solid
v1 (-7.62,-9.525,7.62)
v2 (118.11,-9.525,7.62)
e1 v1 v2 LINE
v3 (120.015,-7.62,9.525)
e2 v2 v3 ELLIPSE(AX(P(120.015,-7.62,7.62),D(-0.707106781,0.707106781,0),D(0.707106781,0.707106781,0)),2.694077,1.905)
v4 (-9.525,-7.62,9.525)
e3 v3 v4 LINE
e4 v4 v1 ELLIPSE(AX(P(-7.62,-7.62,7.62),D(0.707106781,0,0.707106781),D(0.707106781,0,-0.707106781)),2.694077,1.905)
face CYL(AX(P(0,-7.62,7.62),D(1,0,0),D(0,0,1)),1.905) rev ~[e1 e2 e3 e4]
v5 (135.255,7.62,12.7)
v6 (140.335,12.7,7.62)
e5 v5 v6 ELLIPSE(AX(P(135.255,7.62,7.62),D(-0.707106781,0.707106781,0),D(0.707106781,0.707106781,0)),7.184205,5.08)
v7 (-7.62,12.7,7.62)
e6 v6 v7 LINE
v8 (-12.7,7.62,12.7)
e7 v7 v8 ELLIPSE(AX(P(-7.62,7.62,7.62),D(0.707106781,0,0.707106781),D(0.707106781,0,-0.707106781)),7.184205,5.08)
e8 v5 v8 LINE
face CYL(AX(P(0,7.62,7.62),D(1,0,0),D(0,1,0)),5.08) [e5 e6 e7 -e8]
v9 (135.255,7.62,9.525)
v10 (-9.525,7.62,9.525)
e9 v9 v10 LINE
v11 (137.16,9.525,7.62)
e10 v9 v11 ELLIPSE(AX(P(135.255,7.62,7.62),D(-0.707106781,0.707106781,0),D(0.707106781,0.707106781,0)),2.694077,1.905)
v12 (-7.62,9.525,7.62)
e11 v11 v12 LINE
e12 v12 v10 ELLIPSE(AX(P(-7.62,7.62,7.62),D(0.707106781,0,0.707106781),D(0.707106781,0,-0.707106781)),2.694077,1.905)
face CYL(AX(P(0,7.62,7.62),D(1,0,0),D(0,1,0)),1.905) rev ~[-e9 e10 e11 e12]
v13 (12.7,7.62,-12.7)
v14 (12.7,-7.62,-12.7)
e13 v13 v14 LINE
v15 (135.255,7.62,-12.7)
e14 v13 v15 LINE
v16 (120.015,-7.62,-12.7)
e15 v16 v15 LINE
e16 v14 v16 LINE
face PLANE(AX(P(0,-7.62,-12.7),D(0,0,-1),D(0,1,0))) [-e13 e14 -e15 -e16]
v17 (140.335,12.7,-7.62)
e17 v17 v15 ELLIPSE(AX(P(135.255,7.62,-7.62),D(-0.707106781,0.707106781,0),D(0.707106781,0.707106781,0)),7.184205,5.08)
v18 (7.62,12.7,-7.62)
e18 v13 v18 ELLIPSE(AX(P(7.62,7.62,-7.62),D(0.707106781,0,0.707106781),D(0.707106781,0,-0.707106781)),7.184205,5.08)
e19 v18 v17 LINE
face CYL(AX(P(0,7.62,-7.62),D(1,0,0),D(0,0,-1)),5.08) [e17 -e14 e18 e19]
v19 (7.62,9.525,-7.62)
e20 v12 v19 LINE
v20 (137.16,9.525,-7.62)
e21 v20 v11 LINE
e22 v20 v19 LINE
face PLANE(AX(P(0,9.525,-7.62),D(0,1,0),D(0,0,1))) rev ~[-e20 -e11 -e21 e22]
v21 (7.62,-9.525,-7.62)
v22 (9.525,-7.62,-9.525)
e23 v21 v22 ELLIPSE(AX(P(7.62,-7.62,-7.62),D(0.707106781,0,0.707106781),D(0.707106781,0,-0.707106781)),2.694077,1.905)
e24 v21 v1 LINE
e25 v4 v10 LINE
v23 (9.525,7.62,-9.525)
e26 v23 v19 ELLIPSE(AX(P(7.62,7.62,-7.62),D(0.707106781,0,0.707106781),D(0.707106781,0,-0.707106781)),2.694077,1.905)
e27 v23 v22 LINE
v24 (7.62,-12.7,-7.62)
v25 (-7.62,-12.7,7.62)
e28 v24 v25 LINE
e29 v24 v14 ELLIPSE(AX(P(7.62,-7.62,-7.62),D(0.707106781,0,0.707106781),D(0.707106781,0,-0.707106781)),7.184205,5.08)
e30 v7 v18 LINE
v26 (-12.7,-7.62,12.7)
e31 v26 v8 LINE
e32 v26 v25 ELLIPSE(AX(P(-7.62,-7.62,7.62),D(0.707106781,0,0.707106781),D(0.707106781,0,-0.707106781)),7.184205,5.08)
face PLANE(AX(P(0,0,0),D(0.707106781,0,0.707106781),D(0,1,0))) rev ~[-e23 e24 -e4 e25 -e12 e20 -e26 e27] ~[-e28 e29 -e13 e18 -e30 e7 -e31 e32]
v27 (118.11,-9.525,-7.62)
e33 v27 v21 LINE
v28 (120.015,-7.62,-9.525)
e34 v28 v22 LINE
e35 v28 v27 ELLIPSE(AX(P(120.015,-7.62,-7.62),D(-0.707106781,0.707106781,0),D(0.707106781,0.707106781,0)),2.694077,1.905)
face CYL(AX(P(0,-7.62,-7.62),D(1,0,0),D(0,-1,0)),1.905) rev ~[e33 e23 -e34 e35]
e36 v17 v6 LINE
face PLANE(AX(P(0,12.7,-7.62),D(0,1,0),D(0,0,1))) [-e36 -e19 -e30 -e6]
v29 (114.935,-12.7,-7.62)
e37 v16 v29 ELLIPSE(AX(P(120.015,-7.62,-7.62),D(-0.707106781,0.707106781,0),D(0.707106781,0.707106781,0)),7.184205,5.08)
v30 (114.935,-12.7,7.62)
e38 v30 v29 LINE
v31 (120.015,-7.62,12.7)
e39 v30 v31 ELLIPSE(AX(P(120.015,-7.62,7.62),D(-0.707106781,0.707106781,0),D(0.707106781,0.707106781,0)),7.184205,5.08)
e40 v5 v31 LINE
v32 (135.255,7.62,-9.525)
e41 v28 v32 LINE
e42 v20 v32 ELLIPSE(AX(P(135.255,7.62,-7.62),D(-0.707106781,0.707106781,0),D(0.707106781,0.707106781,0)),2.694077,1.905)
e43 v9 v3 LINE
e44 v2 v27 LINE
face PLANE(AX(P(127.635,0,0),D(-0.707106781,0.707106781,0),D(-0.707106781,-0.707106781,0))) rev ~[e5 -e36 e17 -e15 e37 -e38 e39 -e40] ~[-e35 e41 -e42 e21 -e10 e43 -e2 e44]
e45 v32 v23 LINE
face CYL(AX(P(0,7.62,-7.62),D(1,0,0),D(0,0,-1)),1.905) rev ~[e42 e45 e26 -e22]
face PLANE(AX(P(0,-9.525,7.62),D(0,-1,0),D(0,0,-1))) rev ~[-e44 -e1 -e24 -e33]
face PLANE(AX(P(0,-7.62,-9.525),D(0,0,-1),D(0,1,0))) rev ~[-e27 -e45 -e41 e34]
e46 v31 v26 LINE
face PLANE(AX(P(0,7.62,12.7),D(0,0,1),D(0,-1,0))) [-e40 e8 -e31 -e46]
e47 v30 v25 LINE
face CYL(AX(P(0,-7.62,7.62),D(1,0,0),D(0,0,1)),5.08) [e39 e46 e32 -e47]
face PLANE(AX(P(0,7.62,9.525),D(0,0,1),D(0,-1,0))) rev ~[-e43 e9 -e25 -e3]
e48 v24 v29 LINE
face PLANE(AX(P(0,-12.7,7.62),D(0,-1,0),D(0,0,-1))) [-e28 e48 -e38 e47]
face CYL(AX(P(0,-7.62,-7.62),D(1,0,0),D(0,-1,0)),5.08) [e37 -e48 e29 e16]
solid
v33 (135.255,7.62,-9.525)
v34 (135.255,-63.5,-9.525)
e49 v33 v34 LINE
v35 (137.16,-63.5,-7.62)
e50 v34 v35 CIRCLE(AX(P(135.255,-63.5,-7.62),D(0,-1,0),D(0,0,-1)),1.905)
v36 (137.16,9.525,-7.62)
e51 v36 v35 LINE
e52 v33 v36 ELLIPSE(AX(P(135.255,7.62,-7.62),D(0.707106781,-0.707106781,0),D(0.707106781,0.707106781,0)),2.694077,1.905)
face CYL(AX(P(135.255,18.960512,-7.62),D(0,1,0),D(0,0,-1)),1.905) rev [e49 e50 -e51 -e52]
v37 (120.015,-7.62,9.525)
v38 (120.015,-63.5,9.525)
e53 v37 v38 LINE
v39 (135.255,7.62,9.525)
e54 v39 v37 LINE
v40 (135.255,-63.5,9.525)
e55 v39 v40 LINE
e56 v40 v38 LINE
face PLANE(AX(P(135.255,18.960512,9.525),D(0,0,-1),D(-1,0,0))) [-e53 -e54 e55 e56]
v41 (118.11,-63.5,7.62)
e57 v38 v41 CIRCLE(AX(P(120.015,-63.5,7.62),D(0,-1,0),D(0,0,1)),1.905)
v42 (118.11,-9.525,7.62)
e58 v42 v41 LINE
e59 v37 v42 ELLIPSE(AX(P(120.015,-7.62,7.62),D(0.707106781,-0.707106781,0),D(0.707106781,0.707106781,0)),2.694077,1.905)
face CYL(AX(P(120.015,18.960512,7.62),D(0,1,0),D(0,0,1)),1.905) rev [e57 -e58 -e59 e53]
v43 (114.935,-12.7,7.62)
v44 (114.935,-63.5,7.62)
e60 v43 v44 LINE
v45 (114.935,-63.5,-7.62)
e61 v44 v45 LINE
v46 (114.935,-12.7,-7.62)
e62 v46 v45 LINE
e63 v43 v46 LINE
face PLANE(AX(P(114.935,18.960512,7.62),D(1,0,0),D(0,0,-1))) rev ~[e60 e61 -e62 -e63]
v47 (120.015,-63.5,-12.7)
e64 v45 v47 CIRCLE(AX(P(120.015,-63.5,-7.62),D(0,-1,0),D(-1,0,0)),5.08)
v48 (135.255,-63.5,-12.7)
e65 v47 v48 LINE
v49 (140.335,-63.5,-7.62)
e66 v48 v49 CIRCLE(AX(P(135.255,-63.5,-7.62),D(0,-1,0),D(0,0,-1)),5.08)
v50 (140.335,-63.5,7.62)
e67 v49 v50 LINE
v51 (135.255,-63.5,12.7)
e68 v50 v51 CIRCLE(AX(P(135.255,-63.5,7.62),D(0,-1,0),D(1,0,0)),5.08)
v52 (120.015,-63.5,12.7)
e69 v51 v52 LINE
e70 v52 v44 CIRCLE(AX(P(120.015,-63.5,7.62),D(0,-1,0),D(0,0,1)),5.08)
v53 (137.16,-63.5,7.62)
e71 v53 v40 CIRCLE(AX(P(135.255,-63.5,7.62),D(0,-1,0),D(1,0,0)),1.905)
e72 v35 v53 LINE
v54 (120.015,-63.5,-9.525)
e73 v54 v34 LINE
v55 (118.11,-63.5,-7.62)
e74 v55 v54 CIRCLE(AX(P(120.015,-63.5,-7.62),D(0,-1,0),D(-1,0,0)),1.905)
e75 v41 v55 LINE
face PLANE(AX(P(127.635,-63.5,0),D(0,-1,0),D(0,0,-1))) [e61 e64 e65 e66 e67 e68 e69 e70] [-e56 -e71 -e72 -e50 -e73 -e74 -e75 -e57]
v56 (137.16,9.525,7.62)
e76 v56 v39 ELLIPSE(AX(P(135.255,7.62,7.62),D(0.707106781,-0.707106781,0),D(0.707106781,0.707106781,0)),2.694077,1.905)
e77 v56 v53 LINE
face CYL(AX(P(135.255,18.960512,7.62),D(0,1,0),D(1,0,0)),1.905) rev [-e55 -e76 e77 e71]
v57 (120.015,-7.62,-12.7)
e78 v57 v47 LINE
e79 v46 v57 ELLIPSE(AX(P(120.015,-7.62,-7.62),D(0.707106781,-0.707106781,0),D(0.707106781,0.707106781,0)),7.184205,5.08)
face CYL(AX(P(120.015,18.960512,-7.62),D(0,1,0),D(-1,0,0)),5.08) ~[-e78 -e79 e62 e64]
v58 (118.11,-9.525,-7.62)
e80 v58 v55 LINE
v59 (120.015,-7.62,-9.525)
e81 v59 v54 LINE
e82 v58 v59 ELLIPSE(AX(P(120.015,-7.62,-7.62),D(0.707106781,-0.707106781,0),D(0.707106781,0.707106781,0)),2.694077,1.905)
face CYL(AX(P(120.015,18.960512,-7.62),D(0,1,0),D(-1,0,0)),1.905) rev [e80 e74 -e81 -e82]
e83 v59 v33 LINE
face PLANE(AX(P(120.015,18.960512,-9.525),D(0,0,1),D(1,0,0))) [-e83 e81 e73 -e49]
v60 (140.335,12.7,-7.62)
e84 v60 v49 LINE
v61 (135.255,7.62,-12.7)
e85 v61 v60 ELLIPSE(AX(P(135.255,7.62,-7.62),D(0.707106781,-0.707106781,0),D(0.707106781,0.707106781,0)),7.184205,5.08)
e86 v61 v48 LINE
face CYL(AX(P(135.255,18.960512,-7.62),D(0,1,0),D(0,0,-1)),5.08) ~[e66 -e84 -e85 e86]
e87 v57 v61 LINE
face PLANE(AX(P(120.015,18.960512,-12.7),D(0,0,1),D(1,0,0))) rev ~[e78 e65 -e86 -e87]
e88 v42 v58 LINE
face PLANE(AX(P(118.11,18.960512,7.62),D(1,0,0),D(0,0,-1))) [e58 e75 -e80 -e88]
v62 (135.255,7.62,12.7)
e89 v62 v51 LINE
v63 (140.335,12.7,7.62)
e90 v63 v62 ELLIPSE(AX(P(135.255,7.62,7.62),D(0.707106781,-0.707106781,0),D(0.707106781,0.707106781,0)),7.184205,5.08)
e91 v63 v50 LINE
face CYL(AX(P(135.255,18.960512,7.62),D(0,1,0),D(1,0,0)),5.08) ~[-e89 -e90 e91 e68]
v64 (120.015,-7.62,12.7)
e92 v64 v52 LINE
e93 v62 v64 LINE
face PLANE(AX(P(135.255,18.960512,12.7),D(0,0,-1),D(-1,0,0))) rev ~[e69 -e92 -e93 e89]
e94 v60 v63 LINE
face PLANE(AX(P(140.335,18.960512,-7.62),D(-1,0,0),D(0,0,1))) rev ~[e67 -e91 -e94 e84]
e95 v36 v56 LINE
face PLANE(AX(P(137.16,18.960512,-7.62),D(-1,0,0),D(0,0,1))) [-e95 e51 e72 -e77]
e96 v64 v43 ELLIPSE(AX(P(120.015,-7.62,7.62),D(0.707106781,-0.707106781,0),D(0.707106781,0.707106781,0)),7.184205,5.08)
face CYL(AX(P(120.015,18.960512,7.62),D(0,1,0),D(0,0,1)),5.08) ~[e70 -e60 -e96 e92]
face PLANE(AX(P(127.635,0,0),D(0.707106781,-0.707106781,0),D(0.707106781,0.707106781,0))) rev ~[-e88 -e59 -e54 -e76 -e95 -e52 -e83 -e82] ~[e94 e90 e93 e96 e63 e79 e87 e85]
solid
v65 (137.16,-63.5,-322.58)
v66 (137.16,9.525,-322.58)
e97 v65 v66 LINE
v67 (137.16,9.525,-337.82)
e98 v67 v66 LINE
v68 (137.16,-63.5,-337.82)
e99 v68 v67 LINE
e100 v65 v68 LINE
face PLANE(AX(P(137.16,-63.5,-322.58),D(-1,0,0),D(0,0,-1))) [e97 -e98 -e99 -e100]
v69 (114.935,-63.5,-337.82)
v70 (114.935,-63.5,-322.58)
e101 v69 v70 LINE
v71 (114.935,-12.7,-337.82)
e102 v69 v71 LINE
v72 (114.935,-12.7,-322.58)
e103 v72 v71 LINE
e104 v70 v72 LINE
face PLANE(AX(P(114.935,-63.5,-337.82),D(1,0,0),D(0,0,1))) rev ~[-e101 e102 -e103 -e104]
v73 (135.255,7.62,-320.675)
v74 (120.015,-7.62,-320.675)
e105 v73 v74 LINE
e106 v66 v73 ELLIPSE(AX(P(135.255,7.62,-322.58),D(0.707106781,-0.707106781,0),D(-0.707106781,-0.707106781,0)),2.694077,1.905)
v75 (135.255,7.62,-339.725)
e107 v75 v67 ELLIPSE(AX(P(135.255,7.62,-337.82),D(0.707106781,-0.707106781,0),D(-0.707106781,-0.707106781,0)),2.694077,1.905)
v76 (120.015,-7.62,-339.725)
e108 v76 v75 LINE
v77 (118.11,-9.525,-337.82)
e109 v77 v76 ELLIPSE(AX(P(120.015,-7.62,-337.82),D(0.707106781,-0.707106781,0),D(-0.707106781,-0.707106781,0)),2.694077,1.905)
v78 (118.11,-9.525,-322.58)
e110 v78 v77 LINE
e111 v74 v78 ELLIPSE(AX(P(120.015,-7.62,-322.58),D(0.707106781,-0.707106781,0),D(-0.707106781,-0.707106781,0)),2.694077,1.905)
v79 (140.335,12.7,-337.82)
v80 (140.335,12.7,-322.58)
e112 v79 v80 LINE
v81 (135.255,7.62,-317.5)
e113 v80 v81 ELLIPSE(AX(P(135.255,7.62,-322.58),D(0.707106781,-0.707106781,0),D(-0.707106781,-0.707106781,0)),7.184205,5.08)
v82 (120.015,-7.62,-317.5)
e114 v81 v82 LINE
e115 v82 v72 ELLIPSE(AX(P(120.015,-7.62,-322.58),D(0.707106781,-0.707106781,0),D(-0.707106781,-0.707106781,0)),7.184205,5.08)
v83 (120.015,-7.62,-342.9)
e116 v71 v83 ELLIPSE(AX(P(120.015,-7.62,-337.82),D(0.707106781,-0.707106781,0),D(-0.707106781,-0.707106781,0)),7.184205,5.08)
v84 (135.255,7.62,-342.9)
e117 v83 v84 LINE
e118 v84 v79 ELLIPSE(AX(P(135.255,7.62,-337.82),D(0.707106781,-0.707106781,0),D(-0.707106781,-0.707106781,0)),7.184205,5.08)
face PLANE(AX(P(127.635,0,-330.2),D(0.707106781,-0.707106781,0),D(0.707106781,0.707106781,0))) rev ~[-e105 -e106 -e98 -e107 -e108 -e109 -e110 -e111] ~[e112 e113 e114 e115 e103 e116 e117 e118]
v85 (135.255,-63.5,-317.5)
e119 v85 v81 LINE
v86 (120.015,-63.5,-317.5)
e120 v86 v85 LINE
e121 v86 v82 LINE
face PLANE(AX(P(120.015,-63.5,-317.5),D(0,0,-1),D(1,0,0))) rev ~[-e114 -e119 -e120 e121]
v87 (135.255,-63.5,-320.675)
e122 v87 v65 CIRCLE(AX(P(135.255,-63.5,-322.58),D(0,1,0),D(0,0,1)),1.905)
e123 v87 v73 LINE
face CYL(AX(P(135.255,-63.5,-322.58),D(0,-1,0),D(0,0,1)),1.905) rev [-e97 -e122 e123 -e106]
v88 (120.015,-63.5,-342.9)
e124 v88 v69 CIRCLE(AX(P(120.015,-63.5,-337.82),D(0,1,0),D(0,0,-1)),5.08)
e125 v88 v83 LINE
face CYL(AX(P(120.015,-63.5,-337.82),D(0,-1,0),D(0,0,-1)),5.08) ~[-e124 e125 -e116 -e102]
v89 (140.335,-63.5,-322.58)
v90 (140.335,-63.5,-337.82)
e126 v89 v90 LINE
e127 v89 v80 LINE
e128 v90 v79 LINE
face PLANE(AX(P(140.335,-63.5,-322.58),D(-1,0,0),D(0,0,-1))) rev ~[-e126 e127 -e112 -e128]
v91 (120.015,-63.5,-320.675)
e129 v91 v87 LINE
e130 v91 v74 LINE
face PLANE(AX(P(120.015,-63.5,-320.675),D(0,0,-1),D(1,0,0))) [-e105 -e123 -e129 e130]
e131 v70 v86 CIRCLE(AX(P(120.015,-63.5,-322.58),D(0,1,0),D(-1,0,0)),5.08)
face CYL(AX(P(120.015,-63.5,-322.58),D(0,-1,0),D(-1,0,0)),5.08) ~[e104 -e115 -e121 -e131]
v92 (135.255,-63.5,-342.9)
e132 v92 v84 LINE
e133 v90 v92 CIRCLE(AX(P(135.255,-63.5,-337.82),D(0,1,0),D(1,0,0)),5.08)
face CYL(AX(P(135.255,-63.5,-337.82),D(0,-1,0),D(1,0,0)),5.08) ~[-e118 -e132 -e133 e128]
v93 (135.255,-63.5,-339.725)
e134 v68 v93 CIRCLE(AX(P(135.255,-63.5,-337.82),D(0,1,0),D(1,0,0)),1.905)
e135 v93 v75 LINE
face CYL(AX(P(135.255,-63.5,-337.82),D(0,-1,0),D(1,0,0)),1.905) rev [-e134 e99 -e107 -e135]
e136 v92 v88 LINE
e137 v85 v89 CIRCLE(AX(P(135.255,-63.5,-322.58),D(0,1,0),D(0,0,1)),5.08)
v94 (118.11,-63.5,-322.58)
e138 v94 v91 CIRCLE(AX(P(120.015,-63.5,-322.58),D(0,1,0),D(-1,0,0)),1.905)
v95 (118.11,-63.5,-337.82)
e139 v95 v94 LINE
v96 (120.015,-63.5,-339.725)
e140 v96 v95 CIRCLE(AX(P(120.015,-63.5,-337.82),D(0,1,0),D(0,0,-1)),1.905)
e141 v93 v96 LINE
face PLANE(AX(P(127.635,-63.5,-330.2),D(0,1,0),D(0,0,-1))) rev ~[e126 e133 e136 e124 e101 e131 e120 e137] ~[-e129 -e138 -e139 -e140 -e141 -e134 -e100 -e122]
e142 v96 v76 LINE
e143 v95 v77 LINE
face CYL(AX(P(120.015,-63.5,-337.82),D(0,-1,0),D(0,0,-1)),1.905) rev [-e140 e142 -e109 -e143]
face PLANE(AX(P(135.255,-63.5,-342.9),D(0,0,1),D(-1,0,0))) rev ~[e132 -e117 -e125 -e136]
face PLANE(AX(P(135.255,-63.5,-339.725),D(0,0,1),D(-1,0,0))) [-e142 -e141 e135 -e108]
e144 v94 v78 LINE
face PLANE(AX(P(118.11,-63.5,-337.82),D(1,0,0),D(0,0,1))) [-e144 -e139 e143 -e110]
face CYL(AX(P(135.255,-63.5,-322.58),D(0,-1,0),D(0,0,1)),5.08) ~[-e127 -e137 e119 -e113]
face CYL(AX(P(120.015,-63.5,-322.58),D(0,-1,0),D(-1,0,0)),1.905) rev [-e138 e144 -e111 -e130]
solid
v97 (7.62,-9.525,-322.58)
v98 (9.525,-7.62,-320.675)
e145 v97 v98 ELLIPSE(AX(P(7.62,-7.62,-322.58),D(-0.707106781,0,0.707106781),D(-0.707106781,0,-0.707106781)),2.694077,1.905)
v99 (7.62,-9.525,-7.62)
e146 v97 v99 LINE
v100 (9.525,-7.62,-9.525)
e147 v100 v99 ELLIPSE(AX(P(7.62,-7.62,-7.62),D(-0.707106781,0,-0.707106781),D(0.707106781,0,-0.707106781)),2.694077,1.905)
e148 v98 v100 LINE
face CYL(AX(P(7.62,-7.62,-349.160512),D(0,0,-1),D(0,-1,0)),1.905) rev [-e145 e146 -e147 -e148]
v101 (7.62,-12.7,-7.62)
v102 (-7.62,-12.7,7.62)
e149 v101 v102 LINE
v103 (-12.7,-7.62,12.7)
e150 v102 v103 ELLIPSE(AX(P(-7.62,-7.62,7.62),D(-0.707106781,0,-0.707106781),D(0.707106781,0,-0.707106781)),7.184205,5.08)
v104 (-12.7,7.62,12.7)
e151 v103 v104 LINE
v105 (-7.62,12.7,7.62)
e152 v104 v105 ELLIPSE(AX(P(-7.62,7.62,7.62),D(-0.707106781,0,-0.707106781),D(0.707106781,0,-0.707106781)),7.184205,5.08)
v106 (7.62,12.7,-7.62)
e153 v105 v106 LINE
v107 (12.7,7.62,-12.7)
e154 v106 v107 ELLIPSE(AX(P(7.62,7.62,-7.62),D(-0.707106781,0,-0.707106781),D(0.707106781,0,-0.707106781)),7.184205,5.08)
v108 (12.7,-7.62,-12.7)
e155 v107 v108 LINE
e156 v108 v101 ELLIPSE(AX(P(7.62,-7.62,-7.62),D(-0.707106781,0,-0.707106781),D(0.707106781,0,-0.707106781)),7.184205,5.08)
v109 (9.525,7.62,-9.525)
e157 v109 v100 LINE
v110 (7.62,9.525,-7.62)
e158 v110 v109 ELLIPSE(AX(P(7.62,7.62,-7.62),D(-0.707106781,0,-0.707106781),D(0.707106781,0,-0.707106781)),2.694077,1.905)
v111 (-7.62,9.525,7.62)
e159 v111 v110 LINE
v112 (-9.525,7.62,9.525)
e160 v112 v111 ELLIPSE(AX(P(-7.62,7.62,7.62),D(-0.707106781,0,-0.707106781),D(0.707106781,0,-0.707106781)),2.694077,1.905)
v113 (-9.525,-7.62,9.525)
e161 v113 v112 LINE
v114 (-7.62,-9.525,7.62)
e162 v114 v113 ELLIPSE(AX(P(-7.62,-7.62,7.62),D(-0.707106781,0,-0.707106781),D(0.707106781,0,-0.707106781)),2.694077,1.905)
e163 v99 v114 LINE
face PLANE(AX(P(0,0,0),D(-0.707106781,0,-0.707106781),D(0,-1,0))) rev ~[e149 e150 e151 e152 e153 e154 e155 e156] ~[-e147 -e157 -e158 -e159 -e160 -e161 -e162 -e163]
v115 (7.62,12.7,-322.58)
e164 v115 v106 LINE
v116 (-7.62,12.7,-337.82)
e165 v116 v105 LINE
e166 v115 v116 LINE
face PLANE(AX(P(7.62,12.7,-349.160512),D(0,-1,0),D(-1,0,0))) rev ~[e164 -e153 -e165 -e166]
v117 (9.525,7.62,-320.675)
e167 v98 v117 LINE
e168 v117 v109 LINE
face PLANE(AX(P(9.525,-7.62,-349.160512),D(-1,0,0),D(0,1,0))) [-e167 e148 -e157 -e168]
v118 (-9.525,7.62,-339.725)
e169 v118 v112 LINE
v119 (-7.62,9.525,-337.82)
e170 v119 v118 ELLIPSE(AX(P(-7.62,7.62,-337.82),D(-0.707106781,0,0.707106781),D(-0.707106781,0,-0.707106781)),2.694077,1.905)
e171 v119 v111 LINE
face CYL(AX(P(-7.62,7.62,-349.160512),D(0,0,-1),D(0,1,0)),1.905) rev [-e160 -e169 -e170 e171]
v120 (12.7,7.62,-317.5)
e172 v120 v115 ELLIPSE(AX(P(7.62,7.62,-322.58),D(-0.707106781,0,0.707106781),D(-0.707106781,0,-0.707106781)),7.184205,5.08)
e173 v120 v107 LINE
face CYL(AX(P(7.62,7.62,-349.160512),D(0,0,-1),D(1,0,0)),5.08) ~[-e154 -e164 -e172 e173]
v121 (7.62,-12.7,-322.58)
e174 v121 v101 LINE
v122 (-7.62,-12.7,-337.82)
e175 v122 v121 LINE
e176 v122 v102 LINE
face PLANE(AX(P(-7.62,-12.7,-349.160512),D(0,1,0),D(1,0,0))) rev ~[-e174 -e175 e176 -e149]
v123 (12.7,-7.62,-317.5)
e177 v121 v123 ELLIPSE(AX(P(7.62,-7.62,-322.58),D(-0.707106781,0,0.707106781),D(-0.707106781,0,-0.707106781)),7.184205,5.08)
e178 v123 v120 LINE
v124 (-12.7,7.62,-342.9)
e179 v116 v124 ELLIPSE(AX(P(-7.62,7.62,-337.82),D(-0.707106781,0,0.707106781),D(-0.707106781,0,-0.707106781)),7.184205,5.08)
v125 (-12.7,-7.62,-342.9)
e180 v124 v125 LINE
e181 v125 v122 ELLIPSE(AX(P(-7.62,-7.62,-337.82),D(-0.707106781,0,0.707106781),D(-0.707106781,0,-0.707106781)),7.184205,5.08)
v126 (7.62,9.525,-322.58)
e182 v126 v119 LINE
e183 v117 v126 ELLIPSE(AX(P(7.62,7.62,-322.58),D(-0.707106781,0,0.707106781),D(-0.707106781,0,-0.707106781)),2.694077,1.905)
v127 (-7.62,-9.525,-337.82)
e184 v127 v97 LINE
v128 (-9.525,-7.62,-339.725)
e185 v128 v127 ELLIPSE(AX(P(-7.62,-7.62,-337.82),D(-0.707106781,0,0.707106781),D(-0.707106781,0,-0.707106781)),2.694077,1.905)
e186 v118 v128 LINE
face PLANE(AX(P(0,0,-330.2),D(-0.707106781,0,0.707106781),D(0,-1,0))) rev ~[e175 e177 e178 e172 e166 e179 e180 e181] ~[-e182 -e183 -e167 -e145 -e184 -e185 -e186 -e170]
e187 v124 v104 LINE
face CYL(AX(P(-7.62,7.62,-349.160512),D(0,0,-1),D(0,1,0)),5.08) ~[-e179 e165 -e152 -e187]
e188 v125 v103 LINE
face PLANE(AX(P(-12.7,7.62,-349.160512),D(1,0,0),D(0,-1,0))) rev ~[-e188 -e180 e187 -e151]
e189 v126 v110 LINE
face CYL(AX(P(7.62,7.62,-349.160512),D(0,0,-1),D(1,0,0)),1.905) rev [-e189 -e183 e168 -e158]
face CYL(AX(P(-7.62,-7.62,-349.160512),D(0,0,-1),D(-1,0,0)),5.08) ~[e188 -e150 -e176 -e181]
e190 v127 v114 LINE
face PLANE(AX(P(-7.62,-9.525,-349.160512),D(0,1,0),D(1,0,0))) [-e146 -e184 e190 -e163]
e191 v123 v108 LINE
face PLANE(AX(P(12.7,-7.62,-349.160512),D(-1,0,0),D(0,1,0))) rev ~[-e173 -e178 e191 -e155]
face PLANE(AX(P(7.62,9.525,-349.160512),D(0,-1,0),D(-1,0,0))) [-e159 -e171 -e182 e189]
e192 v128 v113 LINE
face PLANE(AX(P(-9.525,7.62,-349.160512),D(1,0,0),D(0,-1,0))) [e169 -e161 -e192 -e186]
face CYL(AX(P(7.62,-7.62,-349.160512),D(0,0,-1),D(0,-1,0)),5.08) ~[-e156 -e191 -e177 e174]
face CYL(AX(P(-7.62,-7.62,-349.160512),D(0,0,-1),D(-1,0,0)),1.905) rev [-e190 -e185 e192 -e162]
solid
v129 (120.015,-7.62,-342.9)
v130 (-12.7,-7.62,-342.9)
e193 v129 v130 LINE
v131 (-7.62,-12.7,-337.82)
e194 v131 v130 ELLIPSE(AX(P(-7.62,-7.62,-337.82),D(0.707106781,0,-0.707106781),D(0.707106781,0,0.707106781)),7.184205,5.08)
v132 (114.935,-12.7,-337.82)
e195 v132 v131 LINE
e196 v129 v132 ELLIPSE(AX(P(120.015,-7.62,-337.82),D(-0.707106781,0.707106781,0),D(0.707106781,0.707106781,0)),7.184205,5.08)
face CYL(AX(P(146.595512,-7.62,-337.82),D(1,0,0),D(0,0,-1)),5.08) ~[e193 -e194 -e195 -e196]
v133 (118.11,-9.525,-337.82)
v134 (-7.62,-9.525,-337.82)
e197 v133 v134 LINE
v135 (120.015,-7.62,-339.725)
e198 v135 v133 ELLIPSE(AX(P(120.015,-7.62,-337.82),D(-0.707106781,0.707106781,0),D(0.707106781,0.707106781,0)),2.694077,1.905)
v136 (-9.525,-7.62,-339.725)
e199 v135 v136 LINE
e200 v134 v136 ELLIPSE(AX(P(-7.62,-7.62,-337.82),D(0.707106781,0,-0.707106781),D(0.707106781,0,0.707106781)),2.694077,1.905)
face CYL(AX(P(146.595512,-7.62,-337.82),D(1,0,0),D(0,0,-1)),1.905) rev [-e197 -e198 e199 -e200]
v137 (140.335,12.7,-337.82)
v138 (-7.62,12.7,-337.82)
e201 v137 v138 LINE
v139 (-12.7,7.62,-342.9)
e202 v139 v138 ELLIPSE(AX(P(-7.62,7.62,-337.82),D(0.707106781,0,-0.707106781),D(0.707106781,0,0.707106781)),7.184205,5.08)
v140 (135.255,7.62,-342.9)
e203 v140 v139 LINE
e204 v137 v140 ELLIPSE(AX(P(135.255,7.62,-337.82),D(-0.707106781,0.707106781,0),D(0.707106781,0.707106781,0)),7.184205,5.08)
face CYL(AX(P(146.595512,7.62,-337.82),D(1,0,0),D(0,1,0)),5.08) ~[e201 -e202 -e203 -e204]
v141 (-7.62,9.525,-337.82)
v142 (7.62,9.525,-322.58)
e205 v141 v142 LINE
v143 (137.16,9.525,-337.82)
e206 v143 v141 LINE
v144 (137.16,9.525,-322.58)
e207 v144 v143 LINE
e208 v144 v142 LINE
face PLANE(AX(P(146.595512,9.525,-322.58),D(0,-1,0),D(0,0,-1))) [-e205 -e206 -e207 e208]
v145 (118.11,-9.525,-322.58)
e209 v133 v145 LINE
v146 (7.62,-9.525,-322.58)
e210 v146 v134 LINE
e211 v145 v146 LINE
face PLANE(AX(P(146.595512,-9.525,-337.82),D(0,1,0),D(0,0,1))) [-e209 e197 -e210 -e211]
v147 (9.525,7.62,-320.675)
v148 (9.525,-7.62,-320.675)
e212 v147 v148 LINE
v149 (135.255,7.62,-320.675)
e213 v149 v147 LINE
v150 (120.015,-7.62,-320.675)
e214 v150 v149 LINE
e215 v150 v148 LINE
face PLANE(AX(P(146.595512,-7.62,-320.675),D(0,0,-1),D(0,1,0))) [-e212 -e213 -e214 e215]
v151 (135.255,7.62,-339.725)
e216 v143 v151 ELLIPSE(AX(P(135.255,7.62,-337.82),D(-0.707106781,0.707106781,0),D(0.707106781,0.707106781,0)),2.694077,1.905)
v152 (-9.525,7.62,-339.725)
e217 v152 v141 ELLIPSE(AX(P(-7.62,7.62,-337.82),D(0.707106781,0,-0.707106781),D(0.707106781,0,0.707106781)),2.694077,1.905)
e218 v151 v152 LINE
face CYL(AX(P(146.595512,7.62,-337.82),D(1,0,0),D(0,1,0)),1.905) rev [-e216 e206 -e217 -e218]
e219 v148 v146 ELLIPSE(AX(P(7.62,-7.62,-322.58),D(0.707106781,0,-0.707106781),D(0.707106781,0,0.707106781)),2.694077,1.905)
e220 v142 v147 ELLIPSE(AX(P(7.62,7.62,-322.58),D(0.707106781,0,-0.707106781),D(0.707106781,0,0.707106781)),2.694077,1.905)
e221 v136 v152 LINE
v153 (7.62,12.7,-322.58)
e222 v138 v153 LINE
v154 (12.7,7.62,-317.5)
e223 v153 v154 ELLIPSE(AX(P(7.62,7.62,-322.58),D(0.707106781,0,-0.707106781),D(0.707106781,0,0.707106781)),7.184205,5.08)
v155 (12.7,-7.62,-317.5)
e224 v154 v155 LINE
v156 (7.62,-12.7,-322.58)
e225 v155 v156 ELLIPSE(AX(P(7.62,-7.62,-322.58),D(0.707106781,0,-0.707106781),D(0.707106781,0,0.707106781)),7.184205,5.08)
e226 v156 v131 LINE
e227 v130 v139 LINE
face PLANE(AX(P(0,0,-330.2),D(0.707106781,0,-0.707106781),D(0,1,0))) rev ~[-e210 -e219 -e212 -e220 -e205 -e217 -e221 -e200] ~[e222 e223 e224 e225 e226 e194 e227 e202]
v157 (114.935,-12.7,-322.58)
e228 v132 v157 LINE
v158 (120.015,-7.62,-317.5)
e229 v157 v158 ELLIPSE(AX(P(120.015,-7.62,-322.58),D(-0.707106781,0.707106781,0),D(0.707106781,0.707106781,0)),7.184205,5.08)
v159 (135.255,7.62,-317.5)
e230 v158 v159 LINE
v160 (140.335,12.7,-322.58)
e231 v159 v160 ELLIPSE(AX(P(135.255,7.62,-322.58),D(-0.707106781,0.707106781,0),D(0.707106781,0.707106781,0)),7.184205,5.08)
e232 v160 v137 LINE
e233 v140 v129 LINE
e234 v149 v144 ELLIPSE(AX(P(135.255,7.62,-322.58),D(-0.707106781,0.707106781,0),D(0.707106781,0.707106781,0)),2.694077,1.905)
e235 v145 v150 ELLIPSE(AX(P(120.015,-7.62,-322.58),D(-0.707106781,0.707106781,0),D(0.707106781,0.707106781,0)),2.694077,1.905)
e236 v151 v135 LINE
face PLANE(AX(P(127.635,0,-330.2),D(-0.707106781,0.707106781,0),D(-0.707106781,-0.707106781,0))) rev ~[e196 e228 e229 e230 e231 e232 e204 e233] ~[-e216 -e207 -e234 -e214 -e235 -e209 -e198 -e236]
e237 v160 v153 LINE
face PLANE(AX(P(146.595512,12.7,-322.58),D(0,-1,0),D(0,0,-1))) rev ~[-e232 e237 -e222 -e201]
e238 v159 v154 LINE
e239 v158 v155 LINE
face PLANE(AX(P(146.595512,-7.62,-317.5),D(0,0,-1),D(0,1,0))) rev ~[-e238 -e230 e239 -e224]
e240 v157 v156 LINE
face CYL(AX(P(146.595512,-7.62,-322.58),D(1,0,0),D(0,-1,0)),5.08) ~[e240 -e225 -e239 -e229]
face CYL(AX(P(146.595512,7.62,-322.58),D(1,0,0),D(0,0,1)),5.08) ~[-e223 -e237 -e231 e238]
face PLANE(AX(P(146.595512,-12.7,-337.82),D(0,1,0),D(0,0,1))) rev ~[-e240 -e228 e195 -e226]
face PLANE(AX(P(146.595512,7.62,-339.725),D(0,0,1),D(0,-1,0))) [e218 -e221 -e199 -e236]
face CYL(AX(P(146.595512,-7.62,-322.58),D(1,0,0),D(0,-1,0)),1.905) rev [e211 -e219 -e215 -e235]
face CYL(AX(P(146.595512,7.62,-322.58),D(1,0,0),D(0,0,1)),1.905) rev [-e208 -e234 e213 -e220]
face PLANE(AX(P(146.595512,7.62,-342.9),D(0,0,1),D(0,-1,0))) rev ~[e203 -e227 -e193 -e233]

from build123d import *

# Parameters (mm, degrees)
SQUARE_TUBING_1_X_1_X_0_125_1_DEPTH        = 82.460512242
SQUARE_TUBING_1_X_1_X_0_125_1_2_DEPTH      = 165.556024484
SQUARE_TUBING_1_X_1_X_0_125_1_3_DEPTH      = 368.121024484
SQUARE_TUBING_1_X_1_X_0_125_1_4_DEPTH      = 146.595512242
SQUARE_TUBING_1_X_1_X_0_125_1_4_DEPTH_BACK = 18.960512242
SQUARE_TUBING_1_X_1_X_0_125_1_5_DEPTH      = 82.460512242


with BuildPart() as part:
    # Sketch1 on segment 1 (carried to segment 1) → Square tubing 1 X 1 X 0.125(1) (new body)
    with BuildSketch(Plane(origin=(127.635, -63.5, -330.2), x_dir=(0, 0, -1), z_dir=(0, 1, 0))):
        with BuildLine():
            Line((-7.62, -12.7), (7.62, -12.7))
            ThreePointArc((7.62, -12.7), (11.212102448, -11.212102448), (12.7, -7.62))
            Line((12.7, -7.62), (12.7, 7.62))
            ThreePointArc((12.7, 7.62), (11.212102448, 11.212102448), (7.62, 12.7))
            Line((7.62, 12.7), (-7.62, 12.7))
            ThreePointArc((-7.62, 12.7), (-11.212102448, 11.212102448), (-12.7, 7.62))
            Line((-12.7, 7.62), (-12.7, -7.62))
            ThreePointArc((-12.7, -7.62), (-11.212102448, -11.212102448), (-7.62, -12.7))
        make_face()
        with BuildLine():
            Line((-7.62, -9.525), (7.62, -9.525))
            ThreePointArc((7.62, -9.525), (8.967038418, -8.967038418), (9.525, -7.62))
            Line((9.525, -7.62), (9.525, 7.62))
            ThreePointArc((9.525, 7.62), (8.967038418, 8.967038418), (7.62, 9.525))
            Line((7.62, 9.525), (-7.62, 9.525))
            ThreePointArc((-7.62, 9.525), (-8.967038418, 8.967038418), (-9.525, 7.62))
            Line((-9.525, 7.62), (-9.525, -7.62))
            ThreePointArc((-9.525, -7.62), (-8.967038418, -8.967038418), (-7.62, -9.525))
        make_face(mode=Mode.SUBTRACT)
    extrude(amount=SQUARE_TUBING_1_X_1_X_0_125_1_DEPTH)

    # Square tubing 1 X 1 X 0.125(1) mitre 1
    split(bisect_by=Plane(origin=(127.635, 0, -330.2), x_dir=(0.707106781, 0.707106781, 0), z_dir=(0.707106781, -0.707106781, 0)), keep=Keep.TOP)


with BuildPart() as body_2:
    # Sketch1 on segment 2 (carried to segment 2) → Square tubing 1 X 1 X 0.125_1 2 (new body)
    with BuildSketch(Plane(origin=(146.595512242, 0, -330.2), x_dir=(0, 0, 1), z_dir=(-1, 0, 0))):
        with BuildLine():
            Line((-7.62, -12.7), (7.62, -12.7))
            ThreePointArc((7.62, -12.7), (11.212102448, -11.212102448), (12.7, -7.62))
            Line((12.7, -7.62), (12.7, 7.62))
            ThreePointArc((12.7, 7.62), (11.212102448, 11.212102448), (7.62, 12.7))
            Line((7.62, 12.7), (-7.62, 12.7))
            ThreePointArc((-7.62, 12.7), (-11.212102448, 11.212102448), (-12.7, 7.62))
            Line((-12.7, 7.62), (-12.7, -7.62))
            ThreePointArc((-12.7, -7.62), (-11.212102448, -11.212102448), (-7.62, -12.7))
        make_face()
        with BuildLine():
            Line((-7.62, -9.525), (7.62, -9.525))
            ThreePointArc((7.62, -9.525), (8.967038418, -8.967038418), (9.525, -7.62))
            Line((9.525, -7.62), (9.525, 7.62))
            ThreePointArc((9.525, 7.62), (8.967038418, 8.967038418), (7.62, 9.525))
            Line((7.62, 9.525), (-7.62, 9.525))
            ThreePointArc((-7.62, 9.525), (-8.967038418, 8.967038418), (-9.525, 7.62))
            Line((-9.525, 7.62), (-9.525, -7.62))
            ThreePointArc((-9.525, -7.62), (-8.967038418, -8.967038418), (-7.62, -9.525))
        make_face(mode=Mode.SUBTRACT)
    extrude(amount=SQUARE_TUBING_1_X_1_X_0_125_1_2_DEPTH)

    # Square tubing 1 X 1 X 0.125_1 2 mitre 1
    split(bisect_by=Plane(origin=(0, 0, -330.2), x_dir=(0, 1, 0), z_dir=(0.707106781, 0, -0.707106781)), keep=Keep.TOP)

    # Square tubing 1 X 1 X 0.125_1 2 mitre 2
    split(bisect_by=Plane(origin=(127.635, 0, -330.2), x_dir=(-0.707106781, -0.707106781, 0), z_dir=(-0.707106781, 0.707106781, 0)), keep=Keep.TOP)


with BuildPart() as body_3:
    # Sketch1 on segment 3 (carried to segment 3) → Square tubing 1 X 1 X 0.125_1 3 (new body)
    with BuildSketch(Plane.XY.offset(-349.160512242)):
        with BuildLine():
            Line((-7.62, -12.7), (7.62, -12.7))
            ThreePointArc((7.62, -12.7), (11.212102448, -11.212102448), (12.7, -7.62))
            Line((12.7, -7.62), (12.7, 7.62))
            ThreePointArc((12.7, 7.62), (11.212102448, 11.212102448), (7.62, 12.7))
            Line((7.62, 12.7), (-7.62, 12.7))
            ThreePointArc((-7.62, 12.7), (-11.212102448, 11.212102448), (-12.7, 7.62))
            Line((-12.7, 7.62), (-12.7, -7.62))
            ThreePointArc((-12.7, -7.62), (-11.212102448, -11.212102448), (-7.62, -12.7))
        make_face()
        with BuildLine():
            Line((-7.62, -9.525), (7.62, -9.525))
            ThreePointArc((7.62, -9.525), (8.967038418, -8.967038418), (9.525, -7.62))
            Line((9.525, -7.62), (9.525, 7.62))
            ThreePointArc((9.525, 7.62), (8.967038418, 8.967038418), (7.62, 9.525))
            Line((7.62, 9.525), (-7.62, 9.525))
            ThreePointArc((-7.62, 9.525), (-8.967038418, 8.967038418), (-9.525, 7.62))
            Line((-9.525, 7.62), (-9.525, -7.62))
            ThreePointArc((-9.525, -7.62), (-8.967038418, -8.967038418), (-7.62, -9.525))
        make_face(mode=Mode.SUBTRACT)
    extrude(amount=SQUARE_TUBING_1_X_1_X_0_125_1_3_DEPTH)

    # Square tubing 1 X 1 X 0.125_1 3 mitre 1
    split(bisect_by=Plane(origin=(0, 0, 0), x_dir=(0, -1, 0), z_dir=(-0.707106781, 0, -0.707106781)), keep=Keep.TOP)

    # Square tubing 1 X 1 X 0.125_1 3 mitre 2
    split(bisect_by=Plane(origin=(0, 0, -330.2), x_dir=(0, -1, 0), z_dir=(-0.707106781, 0, 0.707106781)), keep=Keep.TOP)


with BuildPart() as body_4:
    # Sketch1 → Square tubing 1 X 1 X 0.125_1 4 (new, two sides)
    with BuildSketch(Plane(origin=(0, 0, 0), x_dir=(0, 0, -1), z_dir=(1, 0, 0))) as square_tubing_1_x_1_x_0_125_1_4_sk:
        with BuildLine():
            Line((-7.62, -12.7), (7.62, -12.7))
            ThreePointArc((7.62, -12.7), (11.212102448, -11.212102448), (12.7, -7.62))
            Line((12.7, -7.62), (12.7, 7.62))
            ThreePointArc((12.7, 7.62), (11.212102448, 11.212102448), (7.62, 12.7))
            Line((7.62, 12.7), (-7.62, 12.7))
            ThreePointArc((-7.62, 12.7), (-11.212102448, 11.212102448), (-12.7, 7.62))
            Line((-12.7, 7.62), (-12.7, -7.62))
            ThreePointArc((-12.7, -7.62), (-11.212102448, -11.212102448), (-7.62, -12.7))
        make_face()
        with BuildLine():
            Line((-7.62, -9.525), (7.62, -9.525))
            ThreePointArc((7.62, -9.525), (8.967038418, -8.967038418), (9.525, -7.62))
            Line((9.525, -7.62), (9.525, 7.62))
            ThreePointArc((9.525, 7.62), (8.967038418, 8.967038418), (7.62, 9.525))
            Line((7.62, 9.525), (-7.62, 9.525))
            ThreePointArc((-7.62, 9.525), (-8.967038418, 8.967038418), (-9.525, 7.62))
            Line((-9.525, 7.62), (-9.525, -7.62))
            ThreePointArc((-9.525, -7.62), (-8.967038418, -8.967038418), (-7.62, -9.525))
        make_face(mode=Mode.SUBTRACT)
    extrude(amount=SQUARE_TUBING_1_X_1_X_0_125_1_4_DEPTH)
    extrude(square_tubing_1_x_1_x_0_125_1_4_sk.sketch, amount=-SQUARE_TUBING_1_X_1_X_0_125_1_4_DEPTH_BACK)

    # Square tubing 1 X 1 X 0.125_1 4 mitre 1
    split(bisect_by=Plane(origin=(0, 0, 0), x_dir=(0, 1, 0), z_dir=(0.707106781, 0, 0.707106781)), keep=Keep.TOP)

    # Square tubing 1 X 1 X 0.125_1 4 mitre 2
    split(bisect_by=Plane(origin=(127.635, 0, 0), x_dir=(-0.707106781, -0.707106781, 0), z_dir=(-0.707106781, 0.707106781, 0)), keep=Keep.TOP)


with BuildPart() as body_5:
    # Sketch1 on segment 5 (carried to segment 5) → Square tubing 1 X 1 X 0.125_1 5 (new body)
    with BuildSketch(Plane(origin=(127.635, 18.960512242, 0), x_dir=(0, 0, -1), z_dir=(0, -1, 0))):
        with BuildLine():
            Line((-7.62, -12.7), (7.62, -12.7))
            ThreePointArc((7.62, -12.7), (11.212102448, -11.212102448), (12.7, -7.62))
            Line((12.7, -7.62), (12.7, 7.62))
            ThreePointArc((12.7, 7.62), (11.212102448, 11.212102448), (7.62, 12.7))
            Line((7.62, 12.7), (-7.62, 12.7))
            ThreePointArc((-7.62, 12.7), (-11.212102448, 11.212102448), (-12.7, 7.62))
            Line((-12.7, 7.62), (-12.7, -7.62))
            ThreePointArc((-12.7, -7.62), (-11.212102448, -11.212102448), (-7.62, -12.7))
        make_face()
        with BuildLine():
            Line((-7.62, -9.525), (7.62, -9.525))
            ThreePointArc((7.62, -9.525), (8.967038418, -8.967038418), (9.525, -7.62))
            Line((9.525, -7.62), (9.525, 7.62))
            ThreePointArc((9.525, 7.62), (8.967038418, 8.967038418), (7.62, 9.525))
            Line((7.62, 9.525), (-7.62, 9.525))
            ThreePointArc((-7.62, 9.525), (-8.967038418, 8.967038418), (-9.525, 7.62))
            Line((-9.525, 7.62), (-9.525, -7.62))
            ThreePointArc((-9.525, -7.62), (-8.967038418, -8.967038418), (-7.62, -9.525))
        make_face(mode=Mode.SUBTRACT)
    extrude(amount=SQUARE_TUBING_1_X_1_X_0_125_1_5_DEPTH)

    # Square tubing 1 X 1 X 0.125_1 5 mitre 1
    split(bisect_by=Plane(origin=(127.635, 0, 0), x_dir=(0.707106781, 0.707106781, 0), z_dir=(0.707106781, -0.707106781, 0)), keep=Keep.TOP)


solid = Compound([part.part, body_2.part, body_3.part, body_4.part, body_5.part])
